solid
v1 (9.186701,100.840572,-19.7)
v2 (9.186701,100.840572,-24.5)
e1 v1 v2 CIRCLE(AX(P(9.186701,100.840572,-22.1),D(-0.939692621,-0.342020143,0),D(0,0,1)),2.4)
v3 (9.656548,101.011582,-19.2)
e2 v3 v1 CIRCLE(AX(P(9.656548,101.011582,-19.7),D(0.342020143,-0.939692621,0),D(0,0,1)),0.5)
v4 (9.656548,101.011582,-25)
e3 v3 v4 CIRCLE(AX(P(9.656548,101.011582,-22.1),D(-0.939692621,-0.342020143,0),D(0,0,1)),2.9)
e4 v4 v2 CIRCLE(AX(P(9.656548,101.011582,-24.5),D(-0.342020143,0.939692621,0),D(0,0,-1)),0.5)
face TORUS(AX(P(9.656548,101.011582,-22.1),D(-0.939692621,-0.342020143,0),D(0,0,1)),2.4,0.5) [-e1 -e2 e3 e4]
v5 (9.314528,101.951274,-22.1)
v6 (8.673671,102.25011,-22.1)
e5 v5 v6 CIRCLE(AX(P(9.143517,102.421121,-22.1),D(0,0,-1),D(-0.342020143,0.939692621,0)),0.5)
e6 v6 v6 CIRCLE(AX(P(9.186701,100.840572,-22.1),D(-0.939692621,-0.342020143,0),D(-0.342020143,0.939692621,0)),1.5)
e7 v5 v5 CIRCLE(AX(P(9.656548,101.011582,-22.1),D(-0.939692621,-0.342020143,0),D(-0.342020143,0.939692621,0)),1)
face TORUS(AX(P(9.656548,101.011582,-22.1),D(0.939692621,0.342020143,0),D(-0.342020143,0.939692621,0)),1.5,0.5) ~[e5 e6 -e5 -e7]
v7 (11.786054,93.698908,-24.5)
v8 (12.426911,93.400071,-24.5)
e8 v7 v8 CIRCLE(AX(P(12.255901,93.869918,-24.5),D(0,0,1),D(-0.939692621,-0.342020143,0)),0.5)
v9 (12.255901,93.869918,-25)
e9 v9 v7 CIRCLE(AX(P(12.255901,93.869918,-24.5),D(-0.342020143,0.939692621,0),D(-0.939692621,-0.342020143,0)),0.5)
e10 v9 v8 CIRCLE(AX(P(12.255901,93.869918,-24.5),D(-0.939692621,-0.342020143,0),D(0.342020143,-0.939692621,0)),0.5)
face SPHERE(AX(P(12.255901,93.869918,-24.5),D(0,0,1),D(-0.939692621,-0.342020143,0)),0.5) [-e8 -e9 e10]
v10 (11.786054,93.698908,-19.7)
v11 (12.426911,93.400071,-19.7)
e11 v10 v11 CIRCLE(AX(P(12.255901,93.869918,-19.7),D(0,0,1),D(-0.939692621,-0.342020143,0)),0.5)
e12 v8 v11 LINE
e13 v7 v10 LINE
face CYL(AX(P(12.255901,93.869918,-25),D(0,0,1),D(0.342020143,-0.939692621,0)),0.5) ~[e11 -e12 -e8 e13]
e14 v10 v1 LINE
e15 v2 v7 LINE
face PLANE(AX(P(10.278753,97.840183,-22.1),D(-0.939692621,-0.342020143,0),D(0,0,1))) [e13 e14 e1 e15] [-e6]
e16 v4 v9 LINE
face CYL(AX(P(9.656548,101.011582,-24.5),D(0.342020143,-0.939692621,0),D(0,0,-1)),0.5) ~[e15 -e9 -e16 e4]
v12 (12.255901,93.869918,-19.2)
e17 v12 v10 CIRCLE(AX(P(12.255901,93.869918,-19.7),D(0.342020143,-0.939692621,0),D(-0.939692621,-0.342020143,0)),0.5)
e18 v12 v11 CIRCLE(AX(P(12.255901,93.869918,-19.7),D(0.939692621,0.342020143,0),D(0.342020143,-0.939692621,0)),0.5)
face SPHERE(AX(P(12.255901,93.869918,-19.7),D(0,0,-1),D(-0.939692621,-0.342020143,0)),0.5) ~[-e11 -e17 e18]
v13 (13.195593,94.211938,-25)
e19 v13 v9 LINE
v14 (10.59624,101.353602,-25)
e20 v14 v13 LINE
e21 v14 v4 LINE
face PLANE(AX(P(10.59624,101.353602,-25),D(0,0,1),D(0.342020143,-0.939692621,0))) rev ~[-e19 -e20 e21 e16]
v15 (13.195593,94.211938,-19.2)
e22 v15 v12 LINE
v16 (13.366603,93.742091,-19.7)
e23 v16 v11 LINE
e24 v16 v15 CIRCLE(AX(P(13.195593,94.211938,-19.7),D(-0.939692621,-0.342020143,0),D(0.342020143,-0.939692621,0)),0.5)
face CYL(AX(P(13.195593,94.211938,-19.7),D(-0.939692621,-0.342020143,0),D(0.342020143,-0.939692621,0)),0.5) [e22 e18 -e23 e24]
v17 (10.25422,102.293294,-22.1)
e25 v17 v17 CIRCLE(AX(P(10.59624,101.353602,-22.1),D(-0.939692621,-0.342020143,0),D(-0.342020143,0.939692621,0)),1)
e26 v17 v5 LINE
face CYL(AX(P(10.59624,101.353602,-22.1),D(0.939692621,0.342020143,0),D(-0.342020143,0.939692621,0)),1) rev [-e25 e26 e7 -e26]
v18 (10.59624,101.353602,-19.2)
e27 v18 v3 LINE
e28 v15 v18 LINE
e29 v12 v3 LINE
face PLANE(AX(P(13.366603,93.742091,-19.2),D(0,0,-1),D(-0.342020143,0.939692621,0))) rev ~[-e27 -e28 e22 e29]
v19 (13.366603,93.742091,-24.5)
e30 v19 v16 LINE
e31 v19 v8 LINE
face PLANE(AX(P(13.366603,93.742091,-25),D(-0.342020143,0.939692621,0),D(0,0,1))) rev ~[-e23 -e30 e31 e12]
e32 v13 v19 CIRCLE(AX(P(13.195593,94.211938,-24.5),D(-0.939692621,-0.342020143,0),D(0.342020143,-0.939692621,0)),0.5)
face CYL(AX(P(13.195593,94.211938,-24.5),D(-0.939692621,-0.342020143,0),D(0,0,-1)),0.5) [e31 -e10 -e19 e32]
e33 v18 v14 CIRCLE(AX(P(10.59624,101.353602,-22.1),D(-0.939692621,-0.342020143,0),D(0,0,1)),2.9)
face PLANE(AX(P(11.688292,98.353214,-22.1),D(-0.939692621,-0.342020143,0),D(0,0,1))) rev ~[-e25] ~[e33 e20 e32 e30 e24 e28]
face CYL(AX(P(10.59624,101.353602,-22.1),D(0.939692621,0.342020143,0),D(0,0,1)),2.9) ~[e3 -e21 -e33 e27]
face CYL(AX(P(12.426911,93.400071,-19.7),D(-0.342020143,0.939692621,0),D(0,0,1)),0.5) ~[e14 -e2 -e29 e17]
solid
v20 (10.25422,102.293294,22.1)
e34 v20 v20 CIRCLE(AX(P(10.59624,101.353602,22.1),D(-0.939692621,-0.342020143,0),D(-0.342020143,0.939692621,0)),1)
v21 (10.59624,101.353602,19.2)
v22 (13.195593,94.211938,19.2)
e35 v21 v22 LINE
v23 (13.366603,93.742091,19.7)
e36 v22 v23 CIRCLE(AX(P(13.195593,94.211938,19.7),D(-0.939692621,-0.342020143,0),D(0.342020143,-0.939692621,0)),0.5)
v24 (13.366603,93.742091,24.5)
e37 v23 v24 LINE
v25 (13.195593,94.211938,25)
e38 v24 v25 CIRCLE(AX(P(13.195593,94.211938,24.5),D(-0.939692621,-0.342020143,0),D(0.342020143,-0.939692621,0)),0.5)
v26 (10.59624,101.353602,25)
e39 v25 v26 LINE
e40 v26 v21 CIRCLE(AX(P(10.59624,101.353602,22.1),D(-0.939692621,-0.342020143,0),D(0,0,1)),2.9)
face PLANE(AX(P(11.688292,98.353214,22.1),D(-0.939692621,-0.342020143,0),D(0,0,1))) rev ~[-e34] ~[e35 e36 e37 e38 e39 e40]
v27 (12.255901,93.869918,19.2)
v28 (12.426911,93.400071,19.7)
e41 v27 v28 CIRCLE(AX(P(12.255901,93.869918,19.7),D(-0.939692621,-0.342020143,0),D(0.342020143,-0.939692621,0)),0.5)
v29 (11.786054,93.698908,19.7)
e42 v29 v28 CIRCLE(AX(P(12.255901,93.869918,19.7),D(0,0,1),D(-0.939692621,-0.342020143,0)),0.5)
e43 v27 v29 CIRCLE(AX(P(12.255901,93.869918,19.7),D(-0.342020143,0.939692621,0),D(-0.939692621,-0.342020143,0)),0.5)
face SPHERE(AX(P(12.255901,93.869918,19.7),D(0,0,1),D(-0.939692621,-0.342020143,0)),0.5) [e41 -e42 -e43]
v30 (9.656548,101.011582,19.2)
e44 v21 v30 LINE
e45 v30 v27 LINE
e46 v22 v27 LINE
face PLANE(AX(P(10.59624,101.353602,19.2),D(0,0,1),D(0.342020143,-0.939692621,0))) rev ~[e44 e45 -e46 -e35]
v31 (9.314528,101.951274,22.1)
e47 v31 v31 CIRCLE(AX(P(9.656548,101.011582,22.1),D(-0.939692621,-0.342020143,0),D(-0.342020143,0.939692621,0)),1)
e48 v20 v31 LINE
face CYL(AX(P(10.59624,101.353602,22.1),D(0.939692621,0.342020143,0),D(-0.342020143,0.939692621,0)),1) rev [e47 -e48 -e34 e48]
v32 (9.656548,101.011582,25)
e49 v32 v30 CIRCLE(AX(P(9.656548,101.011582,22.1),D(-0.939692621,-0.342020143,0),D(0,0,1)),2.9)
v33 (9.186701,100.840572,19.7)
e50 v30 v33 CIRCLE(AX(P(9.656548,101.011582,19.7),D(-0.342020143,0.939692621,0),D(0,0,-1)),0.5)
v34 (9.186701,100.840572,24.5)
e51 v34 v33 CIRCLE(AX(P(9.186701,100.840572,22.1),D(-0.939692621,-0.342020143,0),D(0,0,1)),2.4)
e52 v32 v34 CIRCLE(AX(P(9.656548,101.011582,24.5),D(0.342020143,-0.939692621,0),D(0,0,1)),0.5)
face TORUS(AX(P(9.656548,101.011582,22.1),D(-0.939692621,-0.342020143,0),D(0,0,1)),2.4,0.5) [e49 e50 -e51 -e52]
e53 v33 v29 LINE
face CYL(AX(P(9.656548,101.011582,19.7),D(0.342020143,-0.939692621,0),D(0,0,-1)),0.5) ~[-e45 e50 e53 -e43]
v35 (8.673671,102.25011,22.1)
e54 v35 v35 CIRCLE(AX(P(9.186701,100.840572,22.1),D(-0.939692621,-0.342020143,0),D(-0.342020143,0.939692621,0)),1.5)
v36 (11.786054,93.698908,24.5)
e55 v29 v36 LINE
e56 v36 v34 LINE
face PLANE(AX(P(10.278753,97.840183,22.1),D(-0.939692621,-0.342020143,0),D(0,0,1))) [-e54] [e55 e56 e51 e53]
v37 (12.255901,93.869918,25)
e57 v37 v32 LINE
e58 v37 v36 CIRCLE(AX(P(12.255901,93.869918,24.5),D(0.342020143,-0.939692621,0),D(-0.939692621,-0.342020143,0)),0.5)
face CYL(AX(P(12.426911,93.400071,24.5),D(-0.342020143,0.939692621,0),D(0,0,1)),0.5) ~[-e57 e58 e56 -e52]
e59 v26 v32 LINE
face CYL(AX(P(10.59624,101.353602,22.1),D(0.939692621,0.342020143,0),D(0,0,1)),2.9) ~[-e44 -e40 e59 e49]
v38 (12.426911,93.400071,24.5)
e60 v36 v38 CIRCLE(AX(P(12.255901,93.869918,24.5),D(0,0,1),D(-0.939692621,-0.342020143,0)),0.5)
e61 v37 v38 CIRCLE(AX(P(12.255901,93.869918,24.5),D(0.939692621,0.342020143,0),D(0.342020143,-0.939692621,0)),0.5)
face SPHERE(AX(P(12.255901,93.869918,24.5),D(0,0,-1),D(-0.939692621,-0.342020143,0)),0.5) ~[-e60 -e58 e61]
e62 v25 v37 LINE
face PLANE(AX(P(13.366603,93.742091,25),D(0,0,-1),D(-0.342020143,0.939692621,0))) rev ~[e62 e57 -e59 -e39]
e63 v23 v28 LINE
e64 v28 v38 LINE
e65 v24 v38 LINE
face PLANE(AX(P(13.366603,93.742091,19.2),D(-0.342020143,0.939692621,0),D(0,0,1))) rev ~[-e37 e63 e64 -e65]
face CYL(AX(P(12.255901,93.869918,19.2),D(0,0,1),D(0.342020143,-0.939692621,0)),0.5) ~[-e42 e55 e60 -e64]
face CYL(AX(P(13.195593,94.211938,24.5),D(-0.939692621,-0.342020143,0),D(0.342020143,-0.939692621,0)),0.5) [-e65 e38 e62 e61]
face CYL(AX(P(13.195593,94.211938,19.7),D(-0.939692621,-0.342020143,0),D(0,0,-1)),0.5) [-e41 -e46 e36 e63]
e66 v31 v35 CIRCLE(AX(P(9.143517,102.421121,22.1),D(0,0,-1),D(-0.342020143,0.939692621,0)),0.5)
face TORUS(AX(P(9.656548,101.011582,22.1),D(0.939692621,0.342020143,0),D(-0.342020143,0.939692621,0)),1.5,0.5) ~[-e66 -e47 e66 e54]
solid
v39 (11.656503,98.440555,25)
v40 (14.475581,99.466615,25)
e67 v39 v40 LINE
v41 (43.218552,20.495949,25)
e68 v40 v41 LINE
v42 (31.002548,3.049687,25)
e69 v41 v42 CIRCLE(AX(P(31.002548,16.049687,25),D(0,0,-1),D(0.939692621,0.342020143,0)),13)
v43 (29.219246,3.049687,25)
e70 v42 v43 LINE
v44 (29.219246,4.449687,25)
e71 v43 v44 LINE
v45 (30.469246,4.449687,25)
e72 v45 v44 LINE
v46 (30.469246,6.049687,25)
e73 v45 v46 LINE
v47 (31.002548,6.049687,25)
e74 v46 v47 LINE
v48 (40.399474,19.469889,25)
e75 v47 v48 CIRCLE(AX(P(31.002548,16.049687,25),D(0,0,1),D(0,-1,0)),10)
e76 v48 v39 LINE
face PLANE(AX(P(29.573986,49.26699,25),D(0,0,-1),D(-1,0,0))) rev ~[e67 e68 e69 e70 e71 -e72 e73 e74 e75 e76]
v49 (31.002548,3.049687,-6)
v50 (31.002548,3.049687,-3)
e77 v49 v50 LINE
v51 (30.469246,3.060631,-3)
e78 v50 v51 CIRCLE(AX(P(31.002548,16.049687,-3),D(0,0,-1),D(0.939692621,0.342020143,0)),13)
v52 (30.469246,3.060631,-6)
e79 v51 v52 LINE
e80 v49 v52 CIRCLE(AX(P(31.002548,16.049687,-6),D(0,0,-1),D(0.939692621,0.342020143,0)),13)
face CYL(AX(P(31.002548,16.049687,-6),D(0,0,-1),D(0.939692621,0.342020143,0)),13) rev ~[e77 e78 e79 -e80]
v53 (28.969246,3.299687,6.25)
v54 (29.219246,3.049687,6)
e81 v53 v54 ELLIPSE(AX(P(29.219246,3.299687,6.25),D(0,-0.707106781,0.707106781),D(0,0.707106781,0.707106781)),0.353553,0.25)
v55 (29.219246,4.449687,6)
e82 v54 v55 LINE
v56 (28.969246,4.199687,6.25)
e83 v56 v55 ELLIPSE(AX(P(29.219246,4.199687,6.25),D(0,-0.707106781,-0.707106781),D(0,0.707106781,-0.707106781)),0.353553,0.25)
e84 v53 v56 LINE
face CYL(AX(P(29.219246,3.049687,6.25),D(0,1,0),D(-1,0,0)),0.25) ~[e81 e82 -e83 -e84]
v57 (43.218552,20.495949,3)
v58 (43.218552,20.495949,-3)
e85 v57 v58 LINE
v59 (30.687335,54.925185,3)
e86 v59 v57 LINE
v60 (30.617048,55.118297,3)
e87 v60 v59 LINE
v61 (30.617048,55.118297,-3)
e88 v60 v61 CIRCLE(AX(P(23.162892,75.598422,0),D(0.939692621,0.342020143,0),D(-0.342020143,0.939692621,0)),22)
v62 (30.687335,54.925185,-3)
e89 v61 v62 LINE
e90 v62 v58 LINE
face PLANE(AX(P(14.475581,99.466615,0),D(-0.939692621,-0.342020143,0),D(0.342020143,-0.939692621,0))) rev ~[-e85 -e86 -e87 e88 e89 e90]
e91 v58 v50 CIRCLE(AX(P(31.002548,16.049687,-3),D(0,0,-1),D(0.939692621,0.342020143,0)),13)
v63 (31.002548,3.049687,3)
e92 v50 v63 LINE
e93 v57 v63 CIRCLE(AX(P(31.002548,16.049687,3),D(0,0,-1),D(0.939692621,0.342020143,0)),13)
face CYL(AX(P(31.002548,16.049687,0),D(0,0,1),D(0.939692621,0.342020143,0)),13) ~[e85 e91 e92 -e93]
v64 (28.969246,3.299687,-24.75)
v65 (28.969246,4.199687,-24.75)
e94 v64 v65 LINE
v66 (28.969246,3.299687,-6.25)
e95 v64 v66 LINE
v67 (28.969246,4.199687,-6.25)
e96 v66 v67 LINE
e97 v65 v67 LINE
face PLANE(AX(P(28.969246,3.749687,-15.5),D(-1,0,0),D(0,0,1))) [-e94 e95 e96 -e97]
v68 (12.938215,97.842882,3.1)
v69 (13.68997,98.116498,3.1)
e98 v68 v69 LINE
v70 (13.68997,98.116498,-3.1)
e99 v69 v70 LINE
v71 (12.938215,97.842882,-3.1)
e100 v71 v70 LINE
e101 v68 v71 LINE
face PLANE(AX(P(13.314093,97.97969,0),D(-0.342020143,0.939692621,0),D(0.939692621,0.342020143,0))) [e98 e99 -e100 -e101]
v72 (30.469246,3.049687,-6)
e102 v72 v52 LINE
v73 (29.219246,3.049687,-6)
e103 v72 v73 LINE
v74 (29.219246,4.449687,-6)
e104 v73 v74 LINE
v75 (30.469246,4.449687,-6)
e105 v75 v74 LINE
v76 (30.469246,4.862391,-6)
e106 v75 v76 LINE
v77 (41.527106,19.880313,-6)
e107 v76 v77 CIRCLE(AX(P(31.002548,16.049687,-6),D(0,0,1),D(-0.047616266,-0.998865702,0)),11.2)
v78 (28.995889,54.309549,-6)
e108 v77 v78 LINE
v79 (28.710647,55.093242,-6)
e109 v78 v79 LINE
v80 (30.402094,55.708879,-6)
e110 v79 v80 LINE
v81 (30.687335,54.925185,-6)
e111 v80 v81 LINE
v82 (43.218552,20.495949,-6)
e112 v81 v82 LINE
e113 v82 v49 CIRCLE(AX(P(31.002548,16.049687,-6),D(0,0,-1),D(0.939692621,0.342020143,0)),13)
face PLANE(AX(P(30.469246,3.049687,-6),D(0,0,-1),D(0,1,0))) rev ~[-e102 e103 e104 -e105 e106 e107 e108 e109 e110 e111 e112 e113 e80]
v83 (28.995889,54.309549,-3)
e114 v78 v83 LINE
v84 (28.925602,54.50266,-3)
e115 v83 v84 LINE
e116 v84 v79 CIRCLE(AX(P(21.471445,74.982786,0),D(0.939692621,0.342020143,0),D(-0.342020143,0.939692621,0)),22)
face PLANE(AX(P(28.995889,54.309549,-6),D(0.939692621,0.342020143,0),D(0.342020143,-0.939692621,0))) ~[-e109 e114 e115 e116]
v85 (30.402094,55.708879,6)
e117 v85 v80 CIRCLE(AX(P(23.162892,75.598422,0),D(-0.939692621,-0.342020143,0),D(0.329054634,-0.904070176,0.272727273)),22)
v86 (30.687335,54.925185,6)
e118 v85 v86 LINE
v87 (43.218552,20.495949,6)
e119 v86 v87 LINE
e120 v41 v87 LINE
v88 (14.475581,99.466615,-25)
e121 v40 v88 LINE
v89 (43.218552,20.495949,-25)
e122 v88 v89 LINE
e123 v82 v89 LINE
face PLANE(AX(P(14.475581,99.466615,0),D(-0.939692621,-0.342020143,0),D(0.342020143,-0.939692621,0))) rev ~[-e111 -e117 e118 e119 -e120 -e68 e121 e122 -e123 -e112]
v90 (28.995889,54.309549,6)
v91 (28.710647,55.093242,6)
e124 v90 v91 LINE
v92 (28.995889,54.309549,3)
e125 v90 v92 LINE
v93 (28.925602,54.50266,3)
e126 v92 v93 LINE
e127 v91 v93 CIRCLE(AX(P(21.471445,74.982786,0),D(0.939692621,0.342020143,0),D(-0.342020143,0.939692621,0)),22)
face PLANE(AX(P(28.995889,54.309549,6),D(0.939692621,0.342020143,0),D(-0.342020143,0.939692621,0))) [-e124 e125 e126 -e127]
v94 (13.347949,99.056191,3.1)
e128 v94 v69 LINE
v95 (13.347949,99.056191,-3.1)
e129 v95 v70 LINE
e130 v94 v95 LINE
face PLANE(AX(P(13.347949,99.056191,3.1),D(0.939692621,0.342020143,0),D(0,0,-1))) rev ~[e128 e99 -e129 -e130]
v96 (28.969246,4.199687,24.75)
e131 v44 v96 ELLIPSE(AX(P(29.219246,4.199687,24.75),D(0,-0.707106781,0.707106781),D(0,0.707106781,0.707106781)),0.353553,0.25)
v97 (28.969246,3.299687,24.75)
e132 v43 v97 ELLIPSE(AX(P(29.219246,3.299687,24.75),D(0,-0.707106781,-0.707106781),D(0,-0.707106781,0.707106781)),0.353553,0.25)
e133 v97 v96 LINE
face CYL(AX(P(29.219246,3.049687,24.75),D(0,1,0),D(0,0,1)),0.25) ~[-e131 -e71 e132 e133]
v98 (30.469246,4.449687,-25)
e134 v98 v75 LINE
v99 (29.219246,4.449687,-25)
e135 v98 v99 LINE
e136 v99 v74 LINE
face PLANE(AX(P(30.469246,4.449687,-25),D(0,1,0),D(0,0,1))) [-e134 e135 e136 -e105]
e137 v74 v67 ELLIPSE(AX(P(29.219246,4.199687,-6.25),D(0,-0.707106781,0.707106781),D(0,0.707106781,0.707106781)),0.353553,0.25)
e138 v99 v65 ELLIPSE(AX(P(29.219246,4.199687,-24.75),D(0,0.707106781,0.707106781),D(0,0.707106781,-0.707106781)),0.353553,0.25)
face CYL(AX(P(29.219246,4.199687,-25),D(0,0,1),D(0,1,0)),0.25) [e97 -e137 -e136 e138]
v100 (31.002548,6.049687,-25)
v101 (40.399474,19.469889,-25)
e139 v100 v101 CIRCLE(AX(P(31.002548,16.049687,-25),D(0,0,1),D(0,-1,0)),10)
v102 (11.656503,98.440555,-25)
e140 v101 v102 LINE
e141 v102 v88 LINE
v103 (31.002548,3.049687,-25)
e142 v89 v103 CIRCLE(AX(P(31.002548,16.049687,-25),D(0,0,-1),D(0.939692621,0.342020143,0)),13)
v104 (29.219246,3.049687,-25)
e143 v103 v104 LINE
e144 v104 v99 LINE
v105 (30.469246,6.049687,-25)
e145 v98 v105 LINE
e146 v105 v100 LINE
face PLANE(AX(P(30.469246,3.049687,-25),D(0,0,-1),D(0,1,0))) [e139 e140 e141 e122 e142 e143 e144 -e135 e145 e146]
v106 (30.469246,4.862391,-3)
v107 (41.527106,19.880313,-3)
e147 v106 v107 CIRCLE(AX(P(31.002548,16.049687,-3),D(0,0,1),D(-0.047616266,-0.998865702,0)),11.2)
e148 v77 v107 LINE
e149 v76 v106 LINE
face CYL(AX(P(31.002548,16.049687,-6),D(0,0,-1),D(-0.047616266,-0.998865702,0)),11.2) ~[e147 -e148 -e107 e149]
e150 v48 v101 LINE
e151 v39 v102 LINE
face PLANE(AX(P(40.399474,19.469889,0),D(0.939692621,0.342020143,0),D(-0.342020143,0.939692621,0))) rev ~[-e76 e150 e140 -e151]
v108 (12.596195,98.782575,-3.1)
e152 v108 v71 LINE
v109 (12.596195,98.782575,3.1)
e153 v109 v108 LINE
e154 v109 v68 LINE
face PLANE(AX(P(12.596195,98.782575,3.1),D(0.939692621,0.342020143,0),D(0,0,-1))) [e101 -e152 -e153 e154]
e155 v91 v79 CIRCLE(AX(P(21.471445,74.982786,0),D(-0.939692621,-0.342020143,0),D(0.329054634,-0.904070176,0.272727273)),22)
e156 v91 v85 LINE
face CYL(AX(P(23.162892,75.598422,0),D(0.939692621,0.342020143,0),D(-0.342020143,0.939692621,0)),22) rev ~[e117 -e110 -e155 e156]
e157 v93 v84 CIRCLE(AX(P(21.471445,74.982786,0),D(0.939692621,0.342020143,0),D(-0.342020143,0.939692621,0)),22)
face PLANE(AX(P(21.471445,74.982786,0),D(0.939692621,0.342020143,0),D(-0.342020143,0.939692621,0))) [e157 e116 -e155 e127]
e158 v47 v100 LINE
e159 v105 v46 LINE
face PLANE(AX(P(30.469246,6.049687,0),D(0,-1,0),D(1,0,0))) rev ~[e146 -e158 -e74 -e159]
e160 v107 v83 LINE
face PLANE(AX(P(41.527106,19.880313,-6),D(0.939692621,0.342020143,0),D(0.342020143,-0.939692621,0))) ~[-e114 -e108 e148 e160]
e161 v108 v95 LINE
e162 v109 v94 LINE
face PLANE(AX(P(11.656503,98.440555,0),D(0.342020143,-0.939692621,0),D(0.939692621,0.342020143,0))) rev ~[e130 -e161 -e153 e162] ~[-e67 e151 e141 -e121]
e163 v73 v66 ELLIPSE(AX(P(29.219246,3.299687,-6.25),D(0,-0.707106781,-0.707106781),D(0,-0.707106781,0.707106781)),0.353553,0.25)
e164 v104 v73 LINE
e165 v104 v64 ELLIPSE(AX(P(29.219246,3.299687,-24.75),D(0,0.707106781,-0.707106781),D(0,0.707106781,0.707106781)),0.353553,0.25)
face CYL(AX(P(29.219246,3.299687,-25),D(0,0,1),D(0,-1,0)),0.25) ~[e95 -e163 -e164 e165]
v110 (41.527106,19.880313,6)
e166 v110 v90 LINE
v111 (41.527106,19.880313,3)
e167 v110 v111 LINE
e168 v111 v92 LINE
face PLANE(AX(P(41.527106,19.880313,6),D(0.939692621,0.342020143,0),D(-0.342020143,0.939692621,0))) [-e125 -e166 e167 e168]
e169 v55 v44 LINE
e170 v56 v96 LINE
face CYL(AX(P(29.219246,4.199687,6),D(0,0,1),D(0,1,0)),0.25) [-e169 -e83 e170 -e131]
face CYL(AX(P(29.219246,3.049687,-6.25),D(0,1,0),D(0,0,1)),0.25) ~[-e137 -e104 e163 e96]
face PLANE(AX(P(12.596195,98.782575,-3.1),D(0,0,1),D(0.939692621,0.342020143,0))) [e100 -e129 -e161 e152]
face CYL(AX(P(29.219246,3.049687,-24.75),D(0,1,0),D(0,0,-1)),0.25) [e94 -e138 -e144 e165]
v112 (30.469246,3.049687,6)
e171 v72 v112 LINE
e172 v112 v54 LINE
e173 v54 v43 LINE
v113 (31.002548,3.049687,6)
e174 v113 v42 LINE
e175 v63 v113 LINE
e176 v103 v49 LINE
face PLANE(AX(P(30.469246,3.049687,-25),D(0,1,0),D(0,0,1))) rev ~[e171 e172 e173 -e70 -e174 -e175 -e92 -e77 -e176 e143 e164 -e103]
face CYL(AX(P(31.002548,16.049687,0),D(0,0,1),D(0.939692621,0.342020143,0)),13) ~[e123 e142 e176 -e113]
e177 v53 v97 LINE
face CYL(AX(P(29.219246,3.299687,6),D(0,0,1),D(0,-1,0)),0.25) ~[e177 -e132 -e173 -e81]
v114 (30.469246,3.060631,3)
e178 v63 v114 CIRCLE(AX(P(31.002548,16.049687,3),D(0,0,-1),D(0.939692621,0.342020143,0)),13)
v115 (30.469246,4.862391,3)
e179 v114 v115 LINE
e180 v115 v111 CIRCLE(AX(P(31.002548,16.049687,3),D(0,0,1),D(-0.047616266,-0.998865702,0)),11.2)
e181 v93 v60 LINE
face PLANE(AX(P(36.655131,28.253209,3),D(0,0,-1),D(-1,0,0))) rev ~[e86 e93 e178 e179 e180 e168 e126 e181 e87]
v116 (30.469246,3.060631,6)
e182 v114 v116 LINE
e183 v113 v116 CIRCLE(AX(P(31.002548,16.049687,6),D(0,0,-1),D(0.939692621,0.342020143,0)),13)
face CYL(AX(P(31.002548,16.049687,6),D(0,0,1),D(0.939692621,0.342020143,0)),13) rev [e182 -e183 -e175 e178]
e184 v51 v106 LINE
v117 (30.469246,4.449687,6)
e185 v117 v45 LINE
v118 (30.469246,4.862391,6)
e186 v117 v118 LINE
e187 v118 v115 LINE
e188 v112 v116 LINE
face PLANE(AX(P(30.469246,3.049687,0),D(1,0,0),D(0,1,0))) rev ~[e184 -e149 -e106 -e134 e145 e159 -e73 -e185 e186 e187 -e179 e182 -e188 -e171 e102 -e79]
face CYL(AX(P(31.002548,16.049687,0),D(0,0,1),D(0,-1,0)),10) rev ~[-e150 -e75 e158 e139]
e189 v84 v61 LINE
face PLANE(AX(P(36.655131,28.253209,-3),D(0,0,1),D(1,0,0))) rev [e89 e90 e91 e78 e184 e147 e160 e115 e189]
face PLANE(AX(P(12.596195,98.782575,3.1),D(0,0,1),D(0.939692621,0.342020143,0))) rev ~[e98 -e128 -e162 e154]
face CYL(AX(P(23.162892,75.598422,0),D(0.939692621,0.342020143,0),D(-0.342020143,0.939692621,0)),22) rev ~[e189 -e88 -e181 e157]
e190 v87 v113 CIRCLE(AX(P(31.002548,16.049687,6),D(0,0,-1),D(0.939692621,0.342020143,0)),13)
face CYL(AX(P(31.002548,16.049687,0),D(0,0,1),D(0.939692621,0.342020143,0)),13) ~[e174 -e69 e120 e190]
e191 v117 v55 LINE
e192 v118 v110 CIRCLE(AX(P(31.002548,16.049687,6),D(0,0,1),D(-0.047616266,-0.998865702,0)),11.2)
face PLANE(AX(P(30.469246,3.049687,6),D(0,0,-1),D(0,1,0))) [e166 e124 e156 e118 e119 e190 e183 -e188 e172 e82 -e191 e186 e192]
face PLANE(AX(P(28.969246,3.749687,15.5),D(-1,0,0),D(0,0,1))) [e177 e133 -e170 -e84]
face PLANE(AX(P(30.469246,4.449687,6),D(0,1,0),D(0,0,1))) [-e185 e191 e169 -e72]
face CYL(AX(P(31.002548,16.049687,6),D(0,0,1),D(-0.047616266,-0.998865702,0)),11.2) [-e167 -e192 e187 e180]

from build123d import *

# Parameters (mm, degrees)
EXTRUDE_1_DEPTH       = 25
SKETCH_4_R            = 22
CUT_EXTRUDE_1_DEPTH   = 1.8
CUT_EXTRUDE_START     = 6
CUT_EXTRUDE_1_2_DEPTH = 3
SKETCH_11_W           = 19
SKETCH_11_H           = 1.4
EXTRUDE_3_DEPTH       = 1.5
FILLET_1_R            = 0.25
SKETCH_15_R           = 1
EXTRUDE_1_2_DEPTH     = 1.5
EXTRUDE_1_2_2_DEPTH   = 1.5
SKETCH_14_W           = 0.8
SKETCH_14_H           = 6.2
CUT_EXTRUDE_2_DEPTH   = 1
FILLET_2_R            = 0.5
FILLET_3_R            = 0.5


with BuildPart() as part:
    # 草图2 → Extrude 1 (new, symmetric)
    with BuildSketch(Plane.XY):
        with BuildLine():
            Line((30.469246085, 6.049687275), (31.002548264, 6.049687275))
            ThreePointArc((31.002548264, 6.049687275), (39.194068707, 10.313922912), (40.399474472, 19.469888708))
            Line((40.399474472, 19.469888708), (11.65650271, 98.440554593))
            Line((11.65650271, 98.440554593), (14.475580572, 99.466615023))
            Line((14.475580572, 99.466615023), (43.218552334, 20.495949138))
            ThreePointArc((43.218552334, 20.495949138), (41.65152484, 8.593193603), (31.002548264, 3.049687275))
            Line((31.002548264, 3.049687275), (30.469246085, 3.049687275))
            Line((30.469246085, 3.049687275), (30.469246085, 6.049687275))
        make_face()
    extrude(amount=EXTRUDE_1_DEPTH, both=True)

    # 草图4 → Cut-Extrude 1 (cut)
    with BuildSketch(Plane(origin=(44.750213172, 16.287745572, 0), x_dir=(0, 0, -1), z_dir=(0.9396926207859071, 0.3420201433256726, 0))):
        with Locations(Location((0, 63.117104009, 0), (0, 0, 90))):
            Circle(SKETCH_4_R)
    extrude(amount=-CUT_EXTRUDE_1_DEPTH, mode=Mode.SUBTRACT)

    # 草图3 → Cut-Extrude 1 2 (cut)
    with BuildSketch(Plane.XY.offset(CUT_EXTRUDE_START)):
        with BuildLine():
            ThreePointArc((30.469246085, 4.86239141), (40.021460965, 9.408963392), (41.527105617, 19.88031288))
            Line((41.527105617, 19.88031288), (28.995888649, 54.30954854))
            Line((28.995888649, 54.30954854), (27.969828219, 57.128626402))
            Line((27.969828219, 57.128626402), (29.661274936, 57.74426266))
            Line((29.661274936, 57.74426266), (30.687335366, 54.925184798))
            Line((30.687335366, 54.925184798), (43.218552334, 20.495949138))
            ThreePointArc((43.218552334, 20.495949138), (41.470929078, 8.341704197), (30.383536806, 3.064433145))
            Line((30.383536806, 3.064433145), (30.469246085, 4.86239141))
        make_face()
    cut_extrude_1_2 = extrude(amount=-CUT_EXTRUDE_1_2_DEPTH, mode=Mode.SUBTRACT)

    # 镜向1: Cut-Extrude 1 2 across plane
    add(cut_extrude_1_2.mirror(Plane.XY), mode=Mode.SUBTRACT)

    # 草图11 → 底部卡扣凸台-拉伸3 (add)
    with BuildSketch(Plane.ZY.offset(-30.469246085)):
        with Locations((-15.5, 3.749687275)):
            Rectangle(SKETCH_11_W, SKETCH_11_H)
        with Locations((15.5, 3.749687275)):
            Rectangle(SKETCH_11_W, SKETCH_11_H)
    extrude(amount=EXTRUDE_3_DEPTH)

    # 底部卡扣圆角1
    fillet_1_edges = [part.edges().sort_by_distance(p)[0] for p in [
        (28.969246085, 3.749687275, 6),
        (28.969246085, 3.049687275, 15.5),
        (28.969246085, 3.749687275, 25),
        (28.969246085, 4.449687275, 15.5),
        (28.969246085, 3.749687275, -25),
        (28.969246085, 3.049687275, -15.5),
        (28.969246085, 3.749687275, -6),
        (28.969246085, 4.449687275, -15.5),
    ]]
    fillet(fillet_1_edges, radius=FILLET_1_R)

    # 草图14 → 扣部切除-拉伸2 (cut)
    with BuildSketch(Plane(origin=(-30.2746326, 83.178869451, 0), x_dir=(0.9396926207859067, 0.3420201433256736, 0), z_dir=(-0.3420201433256736, 0.9396926207859068, 0))):
        with Locations((46.022182172, 0)):
            Rectangle(SKETCH_14_W, SKETCH_14_H)
    extrude(amount=-CUT_EXTRUDE_2_DEPTH, mode=Mode.SUBTRACT)


with BuildPart() as body_2:
    # 草图15 → Extrude 1 2 (new body)
    with BuildSketch(Plane(origin=(41.93113531, 15.261685142, 0), x_dir=(0, 0, 1), z_dir=(-0.9396926207859068, -0.34202014332567304, 0))):
        with BuildLine():
            Line((-25, 91.617104009), (-25, 83.517104009))
            Line((-25, 83.517104009), (-19.2, 83.517104009))
            Line((-19.2, 83.517104009), (-19.2, 91.617104009))
            ThreePointArc((-19.2, 91.617104009), (-22.1, 94.517104009), (-25, 91.617104009))
        make_face()
        with Locations(Location((-22.1, 91.617104009, 0), (0, 0, 90))):
            Circle(SKETCH_15_R, mode=Mode.SUBTRACT)
    extrude(amount=EXTRUDE_1_2_DEPTH)

    # 螺丝圆角2
    fillet_2_edges = [body_2.edges().sort_by_distance(p)[0] for p in [
        (9.528721478, 99.900878881, -22.1),
        (11.957064495, 93.229061274, -22.1),
        (10.571882915, 97.034816388, -19.2),
        (8.194842919, 103.565680103, -22.1),
        (12.661833961, 93.485576381, -19.2),
        (12.661833961, 93.485576381, -25),
        (10.571882915, 97.034816388, -25),
    ]]
    fillet(fillet_2_edges, radius=FILLET_2_R)


with BuildPart() as body_3:
    # 草图15 → Extrude 1 2 2 (new body)
    with BuildSketch(Plane(origin=(41.93113531, 15.261685142, 0), x_dir=(0, 0, 1), z_dir=(-0.9396926207859068, -0.34202014332567304, 0))):
        with BuildLine():
            Line((19.2, 91.617104009), (19.2, 83.517104009))
            Line((19.2, 83.517104009), (25, 83.517104009))
            Line((25, 83.517104009), (25, 91.617104009))
            ThreePointArc((25, 91.617104009), (22.1, 94.517104009), (19.2, 91.617104009))
        make_face()
        with Locations(Location((22.1, 91.617104009, 0), (0, 0, 90))):
            Circle(SKETCH_15_R, mode=Mode.SUBTRACT)
    extrude(amount=EXTRUDE_1_2_2_DEPTH)

    # 螺丝圆角3
    fillet_3_edges = [body_3.edges().sort_by_distance(p)[0] for p in [
        (9.528721478, 99.900878881, 22.1),
        (11.957064495, 93.229061274, 22.1),
        (10.571882915, 97.034816388, 25),
        (8.194842919, 103.565680103, 22.1),
        (12.661833961, 93.485576381, 25),
        (12.661833961, 93.485576381, 19.2),
        (10.571882915, 97.034816388, 19.2),
    ]]
    fillet(fillet_3_edges, radius=FILLET_3_R)


solid = Compound([part.part, body_2.part, body_3.part])
